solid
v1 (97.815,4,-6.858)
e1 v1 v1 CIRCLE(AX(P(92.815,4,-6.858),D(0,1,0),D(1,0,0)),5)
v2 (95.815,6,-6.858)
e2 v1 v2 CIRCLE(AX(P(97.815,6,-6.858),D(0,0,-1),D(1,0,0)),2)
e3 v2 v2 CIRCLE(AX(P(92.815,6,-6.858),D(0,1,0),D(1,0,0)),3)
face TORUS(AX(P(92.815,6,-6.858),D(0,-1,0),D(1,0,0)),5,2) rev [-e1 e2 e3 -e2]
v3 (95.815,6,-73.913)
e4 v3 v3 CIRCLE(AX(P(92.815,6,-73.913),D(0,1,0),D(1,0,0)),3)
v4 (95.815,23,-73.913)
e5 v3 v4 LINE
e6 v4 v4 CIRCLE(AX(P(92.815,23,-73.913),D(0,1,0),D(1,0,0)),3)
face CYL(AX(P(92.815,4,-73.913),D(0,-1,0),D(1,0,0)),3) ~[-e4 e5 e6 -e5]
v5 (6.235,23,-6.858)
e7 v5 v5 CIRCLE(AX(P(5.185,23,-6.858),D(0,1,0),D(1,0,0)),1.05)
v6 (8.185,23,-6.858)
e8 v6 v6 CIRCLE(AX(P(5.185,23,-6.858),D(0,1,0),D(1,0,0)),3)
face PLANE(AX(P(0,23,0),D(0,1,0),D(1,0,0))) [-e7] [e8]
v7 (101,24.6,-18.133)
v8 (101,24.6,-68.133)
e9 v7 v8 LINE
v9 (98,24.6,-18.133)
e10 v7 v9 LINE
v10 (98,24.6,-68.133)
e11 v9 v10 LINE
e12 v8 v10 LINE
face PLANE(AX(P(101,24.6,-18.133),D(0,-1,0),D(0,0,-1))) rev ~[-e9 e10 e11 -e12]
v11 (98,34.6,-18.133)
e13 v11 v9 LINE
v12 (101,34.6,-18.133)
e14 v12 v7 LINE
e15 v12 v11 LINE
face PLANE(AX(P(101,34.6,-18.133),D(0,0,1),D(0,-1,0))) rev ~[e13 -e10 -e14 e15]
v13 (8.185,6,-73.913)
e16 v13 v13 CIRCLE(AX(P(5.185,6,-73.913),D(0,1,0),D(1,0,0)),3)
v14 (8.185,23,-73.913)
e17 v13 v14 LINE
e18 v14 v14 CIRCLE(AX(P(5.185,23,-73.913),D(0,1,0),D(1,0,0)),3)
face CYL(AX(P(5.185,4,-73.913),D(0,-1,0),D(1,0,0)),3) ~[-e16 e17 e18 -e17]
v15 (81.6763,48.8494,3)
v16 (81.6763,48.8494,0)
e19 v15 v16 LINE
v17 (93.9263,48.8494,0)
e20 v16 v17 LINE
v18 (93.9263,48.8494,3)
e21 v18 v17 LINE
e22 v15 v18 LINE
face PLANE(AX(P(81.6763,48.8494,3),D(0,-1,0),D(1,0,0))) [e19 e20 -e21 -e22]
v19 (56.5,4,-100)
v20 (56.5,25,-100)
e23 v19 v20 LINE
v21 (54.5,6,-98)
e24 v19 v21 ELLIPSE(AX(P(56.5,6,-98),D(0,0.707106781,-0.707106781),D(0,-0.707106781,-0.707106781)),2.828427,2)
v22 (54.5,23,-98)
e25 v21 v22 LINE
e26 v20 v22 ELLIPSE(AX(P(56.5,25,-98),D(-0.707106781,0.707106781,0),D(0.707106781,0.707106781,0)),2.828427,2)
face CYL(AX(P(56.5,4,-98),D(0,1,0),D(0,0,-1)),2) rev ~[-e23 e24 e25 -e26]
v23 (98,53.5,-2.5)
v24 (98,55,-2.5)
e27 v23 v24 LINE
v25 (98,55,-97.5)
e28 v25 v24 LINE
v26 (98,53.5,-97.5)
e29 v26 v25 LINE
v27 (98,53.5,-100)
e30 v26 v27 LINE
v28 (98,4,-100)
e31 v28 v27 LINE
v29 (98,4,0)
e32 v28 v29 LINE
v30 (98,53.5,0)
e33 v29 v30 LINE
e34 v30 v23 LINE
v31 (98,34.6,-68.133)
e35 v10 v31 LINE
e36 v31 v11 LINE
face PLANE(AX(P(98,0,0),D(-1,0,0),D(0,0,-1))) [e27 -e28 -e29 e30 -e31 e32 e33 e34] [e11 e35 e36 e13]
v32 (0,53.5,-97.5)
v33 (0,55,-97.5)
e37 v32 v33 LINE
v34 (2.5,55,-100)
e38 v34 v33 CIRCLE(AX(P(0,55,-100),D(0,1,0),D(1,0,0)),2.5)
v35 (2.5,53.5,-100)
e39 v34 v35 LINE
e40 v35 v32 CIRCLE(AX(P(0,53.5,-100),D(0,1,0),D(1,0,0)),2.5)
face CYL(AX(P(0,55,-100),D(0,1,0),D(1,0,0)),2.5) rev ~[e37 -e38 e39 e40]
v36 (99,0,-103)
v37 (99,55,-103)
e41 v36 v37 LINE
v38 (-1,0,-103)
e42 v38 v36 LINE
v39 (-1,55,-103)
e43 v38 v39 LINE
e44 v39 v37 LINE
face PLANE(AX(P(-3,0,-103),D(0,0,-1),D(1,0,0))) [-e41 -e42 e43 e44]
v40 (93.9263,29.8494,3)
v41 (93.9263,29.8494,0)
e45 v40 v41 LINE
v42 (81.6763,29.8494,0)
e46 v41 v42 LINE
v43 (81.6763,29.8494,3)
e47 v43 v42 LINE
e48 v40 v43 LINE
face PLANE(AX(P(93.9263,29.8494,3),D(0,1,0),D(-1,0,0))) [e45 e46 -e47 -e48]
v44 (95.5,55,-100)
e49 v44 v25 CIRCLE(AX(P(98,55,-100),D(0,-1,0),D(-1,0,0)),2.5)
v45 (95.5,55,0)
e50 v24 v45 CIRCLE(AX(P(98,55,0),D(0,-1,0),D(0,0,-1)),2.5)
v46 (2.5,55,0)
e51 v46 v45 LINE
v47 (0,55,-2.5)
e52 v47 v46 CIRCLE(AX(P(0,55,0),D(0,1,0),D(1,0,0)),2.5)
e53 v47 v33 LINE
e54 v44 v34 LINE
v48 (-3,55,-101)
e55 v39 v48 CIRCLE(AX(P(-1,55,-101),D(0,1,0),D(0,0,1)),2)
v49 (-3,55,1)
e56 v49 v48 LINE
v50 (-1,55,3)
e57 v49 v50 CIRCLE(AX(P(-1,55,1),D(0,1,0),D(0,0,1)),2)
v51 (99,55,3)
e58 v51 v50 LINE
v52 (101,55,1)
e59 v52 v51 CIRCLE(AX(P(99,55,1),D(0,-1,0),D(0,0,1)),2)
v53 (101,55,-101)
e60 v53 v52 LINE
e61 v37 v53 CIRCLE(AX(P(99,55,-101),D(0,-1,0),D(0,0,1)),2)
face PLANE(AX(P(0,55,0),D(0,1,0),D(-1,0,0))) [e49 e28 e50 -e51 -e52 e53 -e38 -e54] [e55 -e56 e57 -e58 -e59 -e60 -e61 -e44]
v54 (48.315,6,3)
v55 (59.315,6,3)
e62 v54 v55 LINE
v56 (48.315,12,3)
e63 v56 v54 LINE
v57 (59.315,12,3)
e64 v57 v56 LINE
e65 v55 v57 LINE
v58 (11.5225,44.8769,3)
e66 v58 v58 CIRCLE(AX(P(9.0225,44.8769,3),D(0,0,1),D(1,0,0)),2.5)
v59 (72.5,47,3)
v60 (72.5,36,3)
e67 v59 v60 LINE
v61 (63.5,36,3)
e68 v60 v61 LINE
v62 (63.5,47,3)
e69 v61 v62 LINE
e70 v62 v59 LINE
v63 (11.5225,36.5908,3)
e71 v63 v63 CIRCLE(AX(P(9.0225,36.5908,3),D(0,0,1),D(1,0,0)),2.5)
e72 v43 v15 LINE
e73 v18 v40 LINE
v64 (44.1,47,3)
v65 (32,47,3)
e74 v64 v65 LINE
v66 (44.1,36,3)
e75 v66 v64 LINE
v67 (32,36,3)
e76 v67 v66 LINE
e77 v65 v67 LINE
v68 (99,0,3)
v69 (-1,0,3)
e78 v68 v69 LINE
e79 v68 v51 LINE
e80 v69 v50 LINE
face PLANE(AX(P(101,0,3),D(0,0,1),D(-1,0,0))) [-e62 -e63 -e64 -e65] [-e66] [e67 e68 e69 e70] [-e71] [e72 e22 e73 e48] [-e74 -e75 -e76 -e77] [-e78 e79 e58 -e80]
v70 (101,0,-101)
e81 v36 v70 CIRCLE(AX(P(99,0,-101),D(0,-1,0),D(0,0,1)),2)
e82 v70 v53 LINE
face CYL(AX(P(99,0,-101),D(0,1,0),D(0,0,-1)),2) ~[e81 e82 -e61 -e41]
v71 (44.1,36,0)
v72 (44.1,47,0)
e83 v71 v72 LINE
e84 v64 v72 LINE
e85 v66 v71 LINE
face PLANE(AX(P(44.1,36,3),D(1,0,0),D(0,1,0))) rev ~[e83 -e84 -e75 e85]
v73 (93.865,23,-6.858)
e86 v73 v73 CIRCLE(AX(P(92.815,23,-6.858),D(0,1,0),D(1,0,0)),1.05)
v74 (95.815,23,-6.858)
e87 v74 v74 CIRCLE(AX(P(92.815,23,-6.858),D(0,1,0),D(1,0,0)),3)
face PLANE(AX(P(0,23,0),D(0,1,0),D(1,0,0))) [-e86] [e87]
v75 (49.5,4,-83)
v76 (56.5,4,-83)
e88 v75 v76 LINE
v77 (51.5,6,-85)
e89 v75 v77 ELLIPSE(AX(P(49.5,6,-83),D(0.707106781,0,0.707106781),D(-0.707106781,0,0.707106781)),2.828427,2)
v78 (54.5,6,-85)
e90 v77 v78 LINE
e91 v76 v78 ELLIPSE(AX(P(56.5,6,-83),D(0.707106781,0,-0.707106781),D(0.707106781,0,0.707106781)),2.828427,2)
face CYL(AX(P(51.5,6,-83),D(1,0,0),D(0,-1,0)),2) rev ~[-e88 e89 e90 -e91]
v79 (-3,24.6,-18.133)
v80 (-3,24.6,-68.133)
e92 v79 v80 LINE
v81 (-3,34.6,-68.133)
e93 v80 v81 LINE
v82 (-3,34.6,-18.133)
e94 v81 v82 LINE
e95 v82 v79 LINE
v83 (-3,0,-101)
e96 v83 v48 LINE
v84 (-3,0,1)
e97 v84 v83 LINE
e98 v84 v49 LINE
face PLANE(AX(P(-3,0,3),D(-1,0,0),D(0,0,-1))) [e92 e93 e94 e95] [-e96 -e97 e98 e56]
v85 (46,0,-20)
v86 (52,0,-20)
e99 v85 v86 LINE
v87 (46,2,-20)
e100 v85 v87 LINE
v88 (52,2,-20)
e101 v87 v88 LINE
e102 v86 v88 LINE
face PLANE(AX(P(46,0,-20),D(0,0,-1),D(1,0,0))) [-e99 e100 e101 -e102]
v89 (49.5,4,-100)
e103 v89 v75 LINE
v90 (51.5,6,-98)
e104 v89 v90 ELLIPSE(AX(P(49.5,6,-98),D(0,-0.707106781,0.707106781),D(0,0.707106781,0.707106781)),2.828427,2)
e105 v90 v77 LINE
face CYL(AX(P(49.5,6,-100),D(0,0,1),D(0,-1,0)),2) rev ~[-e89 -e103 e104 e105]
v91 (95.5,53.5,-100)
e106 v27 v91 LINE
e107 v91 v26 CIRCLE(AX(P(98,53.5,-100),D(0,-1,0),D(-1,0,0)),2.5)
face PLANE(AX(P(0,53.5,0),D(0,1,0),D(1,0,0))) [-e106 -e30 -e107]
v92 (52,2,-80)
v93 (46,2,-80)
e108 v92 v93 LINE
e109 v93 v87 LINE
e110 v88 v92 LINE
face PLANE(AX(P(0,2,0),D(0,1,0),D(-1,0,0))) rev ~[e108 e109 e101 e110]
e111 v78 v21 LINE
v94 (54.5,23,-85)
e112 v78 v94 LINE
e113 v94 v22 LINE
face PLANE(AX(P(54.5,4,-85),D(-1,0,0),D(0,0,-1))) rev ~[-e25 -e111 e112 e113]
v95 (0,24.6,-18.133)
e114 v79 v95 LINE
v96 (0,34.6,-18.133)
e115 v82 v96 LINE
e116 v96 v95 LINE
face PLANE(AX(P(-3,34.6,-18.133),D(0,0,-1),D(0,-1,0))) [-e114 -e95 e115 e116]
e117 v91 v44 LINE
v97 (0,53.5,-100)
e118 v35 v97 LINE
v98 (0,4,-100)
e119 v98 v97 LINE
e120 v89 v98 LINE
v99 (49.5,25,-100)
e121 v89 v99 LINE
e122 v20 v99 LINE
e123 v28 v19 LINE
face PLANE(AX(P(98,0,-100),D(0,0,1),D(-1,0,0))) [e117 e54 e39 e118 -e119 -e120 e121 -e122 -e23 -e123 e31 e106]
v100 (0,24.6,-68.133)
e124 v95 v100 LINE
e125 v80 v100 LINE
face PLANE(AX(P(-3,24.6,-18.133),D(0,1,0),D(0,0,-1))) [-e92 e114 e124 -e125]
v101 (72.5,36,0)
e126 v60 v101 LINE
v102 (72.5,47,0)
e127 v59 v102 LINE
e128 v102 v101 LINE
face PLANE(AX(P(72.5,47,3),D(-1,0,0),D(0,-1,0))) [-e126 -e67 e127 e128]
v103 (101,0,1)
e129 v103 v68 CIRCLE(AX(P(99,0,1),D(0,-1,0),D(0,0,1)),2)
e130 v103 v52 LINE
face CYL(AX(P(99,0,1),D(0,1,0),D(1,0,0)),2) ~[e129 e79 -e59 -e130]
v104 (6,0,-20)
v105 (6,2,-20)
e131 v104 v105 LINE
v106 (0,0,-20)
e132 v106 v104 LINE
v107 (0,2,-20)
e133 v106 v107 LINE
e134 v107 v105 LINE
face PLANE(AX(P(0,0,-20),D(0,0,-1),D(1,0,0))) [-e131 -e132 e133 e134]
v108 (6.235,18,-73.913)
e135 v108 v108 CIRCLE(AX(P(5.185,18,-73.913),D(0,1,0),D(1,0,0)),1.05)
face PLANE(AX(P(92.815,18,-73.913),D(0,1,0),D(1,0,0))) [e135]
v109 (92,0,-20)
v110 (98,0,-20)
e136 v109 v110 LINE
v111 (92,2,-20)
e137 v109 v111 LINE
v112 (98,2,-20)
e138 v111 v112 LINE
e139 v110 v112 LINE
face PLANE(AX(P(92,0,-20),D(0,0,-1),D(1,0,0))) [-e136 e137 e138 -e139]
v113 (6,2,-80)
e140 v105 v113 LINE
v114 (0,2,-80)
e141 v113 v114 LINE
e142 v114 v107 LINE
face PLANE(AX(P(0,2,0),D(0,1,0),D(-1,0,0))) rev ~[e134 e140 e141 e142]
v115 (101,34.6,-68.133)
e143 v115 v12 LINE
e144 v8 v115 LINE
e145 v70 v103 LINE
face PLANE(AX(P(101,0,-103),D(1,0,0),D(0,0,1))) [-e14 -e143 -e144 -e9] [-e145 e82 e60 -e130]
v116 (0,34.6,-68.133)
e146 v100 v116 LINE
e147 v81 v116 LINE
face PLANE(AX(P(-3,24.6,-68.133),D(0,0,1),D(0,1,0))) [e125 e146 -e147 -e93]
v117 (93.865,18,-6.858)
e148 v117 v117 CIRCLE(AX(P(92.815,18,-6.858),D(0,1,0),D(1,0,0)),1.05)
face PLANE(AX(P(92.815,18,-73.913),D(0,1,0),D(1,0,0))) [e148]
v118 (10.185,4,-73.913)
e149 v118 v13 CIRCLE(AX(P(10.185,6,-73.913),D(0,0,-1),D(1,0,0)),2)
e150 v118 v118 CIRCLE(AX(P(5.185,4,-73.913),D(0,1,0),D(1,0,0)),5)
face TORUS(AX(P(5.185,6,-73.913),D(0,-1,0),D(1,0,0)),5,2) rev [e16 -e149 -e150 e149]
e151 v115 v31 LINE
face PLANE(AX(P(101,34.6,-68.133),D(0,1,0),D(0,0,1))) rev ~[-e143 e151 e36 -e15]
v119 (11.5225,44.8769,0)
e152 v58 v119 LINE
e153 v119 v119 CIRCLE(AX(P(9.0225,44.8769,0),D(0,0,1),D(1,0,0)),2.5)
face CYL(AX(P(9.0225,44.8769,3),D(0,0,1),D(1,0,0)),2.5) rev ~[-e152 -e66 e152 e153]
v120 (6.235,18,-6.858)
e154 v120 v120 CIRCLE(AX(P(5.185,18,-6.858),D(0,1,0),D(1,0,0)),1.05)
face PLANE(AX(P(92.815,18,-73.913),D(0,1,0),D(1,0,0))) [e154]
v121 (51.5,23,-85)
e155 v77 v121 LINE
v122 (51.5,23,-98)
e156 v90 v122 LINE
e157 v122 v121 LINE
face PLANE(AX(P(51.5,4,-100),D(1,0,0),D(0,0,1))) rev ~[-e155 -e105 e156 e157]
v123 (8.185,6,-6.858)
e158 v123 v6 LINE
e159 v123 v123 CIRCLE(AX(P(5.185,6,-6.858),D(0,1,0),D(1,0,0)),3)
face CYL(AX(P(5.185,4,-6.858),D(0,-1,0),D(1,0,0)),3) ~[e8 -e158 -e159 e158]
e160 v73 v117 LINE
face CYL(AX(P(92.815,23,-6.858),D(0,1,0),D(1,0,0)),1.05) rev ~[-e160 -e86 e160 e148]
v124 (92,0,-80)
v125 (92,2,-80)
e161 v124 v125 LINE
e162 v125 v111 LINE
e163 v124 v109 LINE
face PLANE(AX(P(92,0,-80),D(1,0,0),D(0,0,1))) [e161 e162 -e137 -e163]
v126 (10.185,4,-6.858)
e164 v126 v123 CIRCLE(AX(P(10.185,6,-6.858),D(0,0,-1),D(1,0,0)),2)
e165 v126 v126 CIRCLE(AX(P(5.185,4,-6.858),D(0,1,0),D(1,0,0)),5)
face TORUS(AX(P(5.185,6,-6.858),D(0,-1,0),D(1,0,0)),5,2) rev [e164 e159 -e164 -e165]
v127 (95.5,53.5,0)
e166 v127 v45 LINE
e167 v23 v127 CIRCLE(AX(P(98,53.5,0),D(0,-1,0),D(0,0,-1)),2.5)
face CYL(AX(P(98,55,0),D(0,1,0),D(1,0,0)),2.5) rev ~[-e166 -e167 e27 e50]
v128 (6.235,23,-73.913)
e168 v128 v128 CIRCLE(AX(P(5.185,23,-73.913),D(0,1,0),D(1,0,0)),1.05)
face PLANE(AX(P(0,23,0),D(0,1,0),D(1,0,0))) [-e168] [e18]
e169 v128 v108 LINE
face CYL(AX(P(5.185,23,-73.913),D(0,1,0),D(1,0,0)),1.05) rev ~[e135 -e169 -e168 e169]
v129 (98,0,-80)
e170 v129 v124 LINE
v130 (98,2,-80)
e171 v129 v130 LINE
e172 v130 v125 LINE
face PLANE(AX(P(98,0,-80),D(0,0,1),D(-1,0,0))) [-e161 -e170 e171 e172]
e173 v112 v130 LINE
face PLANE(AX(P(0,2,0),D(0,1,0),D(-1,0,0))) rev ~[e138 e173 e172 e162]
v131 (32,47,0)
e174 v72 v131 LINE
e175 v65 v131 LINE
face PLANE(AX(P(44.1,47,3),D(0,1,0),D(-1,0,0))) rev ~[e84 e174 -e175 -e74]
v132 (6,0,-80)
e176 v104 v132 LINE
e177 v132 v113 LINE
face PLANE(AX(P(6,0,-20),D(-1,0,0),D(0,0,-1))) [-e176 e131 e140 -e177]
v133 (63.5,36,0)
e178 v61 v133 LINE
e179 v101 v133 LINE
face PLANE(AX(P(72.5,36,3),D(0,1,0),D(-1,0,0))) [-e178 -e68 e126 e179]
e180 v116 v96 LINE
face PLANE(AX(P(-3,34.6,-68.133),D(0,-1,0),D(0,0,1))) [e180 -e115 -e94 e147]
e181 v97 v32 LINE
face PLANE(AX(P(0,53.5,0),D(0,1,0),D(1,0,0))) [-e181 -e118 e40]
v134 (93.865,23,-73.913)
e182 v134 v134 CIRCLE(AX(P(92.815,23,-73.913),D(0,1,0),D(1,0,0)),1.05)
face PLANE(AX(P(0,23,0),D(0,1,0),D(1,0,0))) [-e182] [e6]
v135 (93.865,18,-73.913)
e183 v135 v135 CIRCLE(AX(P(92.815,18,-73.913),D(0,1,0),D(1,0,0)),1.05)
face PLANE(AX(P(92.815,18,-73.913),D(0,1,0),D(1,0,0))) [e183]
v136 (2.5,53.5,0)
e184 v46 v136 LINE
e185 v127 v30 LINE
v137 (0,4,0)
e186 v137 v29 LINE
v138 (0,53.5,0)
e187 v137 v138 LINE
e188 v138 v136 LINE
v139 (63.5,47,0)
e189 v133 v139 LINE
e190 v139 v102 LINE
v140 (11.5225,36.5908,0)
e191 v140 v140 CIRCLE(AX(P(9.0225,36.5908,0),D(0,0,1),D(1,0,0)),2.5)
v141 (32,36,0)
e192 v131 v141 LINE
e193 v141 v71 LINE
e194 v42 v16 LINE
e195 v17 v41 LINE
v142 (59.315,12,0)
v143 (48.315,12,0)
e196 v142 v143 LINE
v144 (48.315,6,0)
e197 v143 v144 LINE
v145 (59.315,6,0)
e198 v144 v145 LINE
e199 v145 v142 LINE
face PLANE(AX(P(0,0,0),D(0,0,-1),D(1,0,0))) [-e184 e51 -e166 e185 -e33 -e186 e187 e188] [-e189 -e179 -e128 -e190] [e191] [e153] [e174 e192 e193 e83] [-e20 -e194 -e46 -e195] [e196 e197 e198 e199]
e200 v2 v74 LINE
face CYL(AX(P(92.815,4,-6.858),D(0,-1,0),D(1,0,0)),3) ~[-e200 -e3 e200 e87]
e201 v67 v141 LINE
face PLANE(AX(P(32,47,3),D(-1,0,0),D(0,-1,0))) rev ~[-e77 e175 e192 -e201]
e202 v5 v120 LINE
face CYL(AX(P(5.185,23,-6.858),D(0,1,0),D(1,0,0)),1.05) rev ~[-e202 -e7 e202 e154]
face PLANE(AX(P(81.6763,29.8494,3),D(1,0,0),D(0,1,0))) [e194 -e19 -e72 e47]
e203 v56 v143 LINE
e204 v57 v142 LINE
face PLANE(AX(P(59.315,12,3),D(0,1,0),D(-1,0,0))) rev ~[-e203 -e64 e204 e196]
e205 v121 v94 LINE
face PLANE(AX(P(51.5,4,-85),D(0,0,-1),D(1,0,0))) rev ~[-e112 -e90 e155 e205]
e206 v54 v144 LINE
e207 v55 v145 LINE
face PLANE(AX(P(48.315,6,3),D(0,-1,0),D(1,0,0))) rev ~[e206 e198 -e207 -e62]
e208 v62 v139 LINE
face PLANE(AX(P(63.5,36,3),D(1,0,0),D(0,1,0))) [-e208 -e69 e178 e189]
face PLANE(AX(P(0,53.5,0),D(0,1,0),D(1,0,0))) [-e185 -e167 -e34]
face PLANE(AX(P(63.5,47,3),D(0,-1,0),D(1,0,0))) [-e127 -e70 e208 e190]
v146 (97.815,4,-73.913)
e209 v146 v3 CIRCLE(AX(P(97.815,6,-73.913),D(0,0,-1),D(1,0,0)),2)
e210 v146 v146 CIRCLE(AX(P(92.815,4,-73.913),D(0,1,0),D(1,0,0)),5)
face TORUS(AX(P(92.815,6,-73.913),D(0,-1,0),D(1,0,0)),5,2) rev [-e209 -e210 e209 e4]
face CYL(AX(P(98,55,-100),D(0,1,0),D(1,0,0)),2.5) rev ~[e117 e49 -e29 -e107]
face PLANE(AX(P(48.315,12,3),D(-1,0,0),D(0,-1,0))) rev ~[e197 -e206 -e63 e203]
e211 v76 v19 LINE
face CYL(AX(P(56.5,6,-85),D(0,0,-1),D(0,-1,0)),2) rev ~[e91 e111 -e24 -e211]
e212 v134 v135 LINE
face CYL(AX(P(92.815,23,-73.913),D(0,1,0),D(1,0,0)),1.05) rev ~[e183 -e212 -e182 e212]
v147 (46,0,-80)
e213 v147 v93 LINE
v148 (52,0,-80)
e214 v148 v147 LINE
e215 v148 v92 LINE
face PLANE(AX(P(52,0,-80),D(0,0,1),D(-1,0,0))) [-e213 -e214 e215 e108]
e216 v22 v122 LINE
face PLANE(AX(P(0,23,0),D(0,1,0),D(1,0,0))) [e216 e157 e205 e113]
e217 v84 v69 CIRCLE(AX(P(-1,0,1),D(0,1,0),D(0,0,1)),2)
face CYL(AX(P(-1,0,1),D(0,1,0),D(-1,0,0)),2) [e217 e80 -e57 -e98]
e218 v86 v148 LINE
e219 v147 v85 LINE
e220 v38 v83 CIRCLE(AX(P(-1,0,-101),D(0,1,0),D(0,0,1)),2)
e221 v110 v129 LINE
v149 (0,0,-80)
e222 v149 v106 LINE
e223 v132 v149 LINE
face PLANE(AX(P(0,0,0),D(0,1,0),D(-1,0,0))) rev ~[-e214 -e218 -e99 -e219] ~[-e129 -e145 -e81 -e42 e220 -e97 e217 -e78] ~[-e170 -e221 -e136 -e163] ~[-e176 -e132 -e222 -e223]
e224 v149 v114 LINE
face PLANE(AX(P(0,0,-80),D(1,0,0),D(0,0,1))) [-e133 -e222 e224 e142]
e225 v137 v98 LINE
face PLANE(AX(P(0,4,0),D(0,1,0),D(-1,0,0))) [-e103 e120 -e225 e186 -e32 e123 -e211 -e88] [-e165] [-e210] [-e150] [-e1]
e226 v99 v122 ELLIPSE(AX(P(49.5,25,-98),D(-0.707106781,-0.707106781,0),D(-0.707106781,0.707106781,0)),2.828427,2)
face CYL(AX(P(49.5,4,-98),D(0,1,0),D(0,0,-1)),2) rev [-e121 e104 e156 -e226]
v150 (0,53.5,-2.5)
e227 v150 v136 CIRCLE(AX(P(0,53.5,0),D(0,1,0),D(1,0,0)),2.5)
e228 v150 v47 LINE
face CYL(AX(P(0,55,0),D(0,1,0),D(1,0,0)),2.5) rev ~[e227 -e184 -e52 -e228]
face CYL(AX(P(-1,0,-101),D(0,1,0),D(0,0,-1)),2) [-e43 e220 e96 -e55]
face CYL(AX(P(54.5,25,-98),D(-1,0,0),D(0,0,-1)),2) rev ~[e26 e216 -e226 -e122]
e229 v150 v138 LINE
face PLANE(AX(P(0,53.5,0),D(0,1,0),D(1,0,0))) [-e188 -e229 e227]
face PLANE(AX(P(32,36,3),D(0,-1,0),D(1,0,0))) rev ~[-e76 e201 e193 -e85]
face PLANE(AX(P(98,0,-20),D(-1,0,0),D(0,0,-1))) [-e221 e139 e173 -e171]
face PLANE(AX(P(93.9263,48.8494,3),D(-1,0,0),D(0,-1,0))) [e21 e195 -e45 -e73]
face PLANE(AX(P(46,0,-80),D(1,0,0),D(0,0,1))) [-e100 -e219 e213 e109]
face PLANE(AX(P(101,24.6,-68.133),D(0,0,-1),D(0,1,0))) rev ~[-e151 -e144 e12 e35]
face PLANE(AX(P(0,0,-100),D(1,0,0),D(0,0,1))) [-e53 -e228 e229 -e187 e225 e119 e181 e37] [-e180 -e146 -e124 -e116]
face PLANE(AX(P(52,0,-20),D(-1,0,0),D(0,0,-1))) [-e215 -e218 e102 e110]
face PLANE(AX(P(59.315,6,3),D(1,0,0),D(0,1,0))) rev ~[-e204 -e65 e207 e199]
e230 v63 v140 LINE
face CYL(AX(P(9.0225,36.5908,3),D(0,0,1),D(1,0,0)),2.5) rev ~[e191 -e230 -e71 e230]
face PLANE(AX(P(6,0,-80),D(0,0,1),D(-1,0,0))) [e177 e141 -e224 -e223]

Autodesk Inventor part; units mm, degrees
ref_plane "YZ Plane" through (0, 0, 0) normal (1, 0, 0) x (0, 1, 0)
ref_plane "XZ Plane" through (0, 0, 0) normal (0, 1, 0) x (-1, 0, 0)
ref_plane "XY Plane" through (0, 0, 0) normal (0, 0, 1) x (1, 0, 0)
sketch "Sketch1" plane through (0, 0, 0) normal (0, 1, 0) x (-1, 0, 0)
  line L0 (0, 0) -> (-98, 0)
  line L1 (-98, 0) -> (-98, -100)
  line L2 (-98, -100) -> (0, -100)
  line L3 (0, -100) -> (0, 0)
  line L4 (3, -103) -> (-101, -103)
  line L5 (-101, -103) -> (-101, 3)
  line L6 (-101, 3) -> (3, 3)
  line L7 (3, 3) -> (3, -103)
  line L8 (0, -20) -> (-6, -20)
  line L9 (-6, -20) -> (-6, -80)
  line L10 (-6, -80) -> (0, -80)
  line L11 (0, -80) -> (0, -20)
  line L12 (-46, -20) -> (-52, -20)
  line L13 (-52, -20) -> (-52, -80)
  line L14 (-52, -80) -> (-46, -80)
  line L15 (-46, -80) -> (-46, -20)
  line L16 (-92, -20) -> (-98, -20)
  line L17 (-98, -20) -> (-98, -80)
  line L18 (-98, -80) -> (-92, -80)
  line L19 (-92, -80) -> (-92, -20)
  point P0 (-49, -20)
  point P1 (-6, -50)
  point P2 (-98, -20)
  point P3 (-98, -80)
  point P4 (0, -80)
  point P5 (0, -20)
  dimension "d0" = 100
  dimension "d1" = 98
  dimension "d2" = 3
  dimension "d48" = 6
  dimension "d49" = 60
  dimension "d50" = 6
  dimension "d51" = 60
  dimension "d52" = 6
  dimension "d53" = 60
  dimension "d54" = 49
  dimension "d55" = 50
extrude "Extrusion1" add sketch "Sketch1" along normal blind 4 contours L3 L8 L9 L10 L2 L1 L18 L19 L16 L0 | L3 L10 L9 L8 | L16 L19 L18 L1 | L15 L14 L13 L12
extrude "Extrusion2" add sketch "Sketch1" along normal blind 55 contours L4 L5 L6 L7
fillet "Fillet1" radius 2 4 edges at (-3, 27.5, 3) (101, 27.5, 3) (101, 27.5, -103) (-3, 27.5, -103)
sketch "Sketch2" plane through (0, 4, 0) normal (0, 1, 0) x (1, 0, 0)
  line L0 (98, 0) -> (98, 100) projected
  line L1 (98, 100) -> (0, 100) projected
  line L2 (0, 100) -> (0, 0) projected
  line L3 (0, 0) -> (98, 0) projected
  circle A0 centre (5.185, 73.913) radius 3
  circle A1 centre (5.185, 6.858) radius 3
  circle A2 centre (92.815, 6.858) radius 3
  circle A3 centre (92.815, 73.913) radius 3
  line L4 (54.5, 100) -> (51.5, 100)
  line L5 (51.5, 100) -> (51.5, 85)
  line L6 (51.5, 85) -> (54.5, 85)
  line L7 (54.5, 85) -> (54.5, 100)
  line L8 (0, 100) -> (98, 100) projected
  dimension "d8" = 6
  dimension "d9" = 6
  dimension "d10" = 6
  dimension "d11" = 6
  dimension "d12" = 67.055
  dimension "d13" = 87.63
  dimension "d16" = 6.858
  dimension "d17" = 5.185
  dimension "d120" = 3
  dimension "d121" = 15
  dimension "d122" = 51.5
extrude "Extrusion3" add sketch "Sketch2" along normal blind 19 contours L7 L6 L5 L1 | A0 | A1 | A2 | A3
sketch "Sketch3" plane through (92.815, 23, -73.913) normal (0, 1, 0) x (1, 0, 0)
  circle A0 centre (0, -67.055) radius 3 projected
  circle A1 centre (0, -67.055) radius 1.05
  circle A2 centre (0, 0) radius 3 projected
  circle A3 centre (0, 0) radius 1.05
  circle A4 centre (-87.63, 0) radius 3 projected
  circle A5 centre (-87.63, 0) radius 1.05
  circle A6 centre (-87.63, -67.055) radius 3 projected
  circle A7 centre (-87.63, -67.055) radius 1.05
  point P0 (-92.815, -73.913)
  dimension "d21" = 2.1
  dimension "d22" = 2.1
  dimension "d23" = 2.1
  dimension "d24" = 2.1
extrude "Extrusion4" cut sketch "Sketch3" against normal blind 5 contours A1 | A3 | A5 | A7
fillet "Fillet2" radius 2 4 edges at (89.815, 4, -73.913) (89.815, 4, -6.858) (2.185, 4, -6.858) (2.185, 4, -73.913)
extrude "Extrusion5" cut sketch "Sketch1" along normal blind 2 contours L3 L10 L9 L8 | L16 L19 L18 L1 | L15 L14 L13 L12
sketch "Sketch4" plane through (-1, 0, 3) normal (0, 0, 1) x (1, 0, 0)
  line L0 (11.185, 4) -> (1.185, 4) projected
  line L1 (98.815, 4) -> (88.815, 4) projected
  line L2 (99, 4) -> (55.5, 4) projected
  line L3 (1, 4) -> (99, 4) projected
  line L4 (98.815, 4) -> (88.815, 4) projected
  line L5 (11.185, 4) -> (1.185, 4) projected
  line L6 (1, 4) -> (1, 55) projected
  line L7 (1, 4) -> (1, 55) projected
  line L8 (99, 4) -> (99, 55) projected
  line L9 (99, 4) -> (99, 55) projected
  line L10 (45.1, 47) -> (33, 47)
  line L11 (33, 47) -> (33, 36)
  line L12 (33, 36) -> (45.1, 36)
  line L13 (45.1, 36) -> (45.1, 47)
  line L14 (49.315, 6) -> (60.315, 6)
  line L15 (60.315, 6) -> (60.315, 12)
  line L16 (60.315, 12) -> (49.315, 12)
  line L17 (49.315, 12) -> (49.315, 6)
  line L18 (64.5, 47) -> (73.5, 47)
  line L19 (73.5, 47) -> (73.5, 36)
  line L20 (73.5, 36) -> (64.5, 36)
  line L21 (64.5, 36) -> (64.5, 47)
  line L22 (9.185, 23) -> (3.185, 23) projected
  line L23 (96.815, 23) -> (90.815, 23) projected
  circle A0 centre (10.0225, 36.5908) radius 2.5
  circle A1 centre (10.0225, 44.8769) radius 2.5
  line L24 (82.6763, 48.8494) -> (94.9263, 48.8494)
  line L25 (94.9263, 48.8494) -> (94.9263, 29.8494)
  line L26 (94.9263, 29.8494) -> (82.6763, 29.8494)
  line L27 (82.6763, 29.8494) -> (82.6763, 48.8494)
  line L28 (82.6763, 48.8494) -> (94.9263, 29.8494) construction
  line L29 (94.9263, 48.8494) -> (82.6763, 29.8494) construction
  line L30 (0, 0) -> (100, 0) projected
  line L31 (55.5, 4) -> (52.5, 4) projected
  line L32 (52.5, 4) -> (1, 4) projected
  point P0 (1, 0)
  point P1 (69, 36)
  point P2 (73.5, 41.5)
  point P3 (60.315, 9)
  point P4 (49.315, 9)
  point P5 (54.815, 6)
  point P6 (54.815, 12)
  point P7 (6.185, 23)
  point P8 (39.05, 36)
  point P9 (93.815, 23)
  point P10 (88.8013, 39.3494)
  dimension "d56" = 11
  dimension "d57" = 19.4
  dimension "d59" = 12.1
  dimension "d60" = 11
  dimension "d61" = 9
  dimension "d62" = 11
  dimension "d63" = 6
  dimension "d106" = 39
  dimension "d108" = 5
  dimension "d109" = 5
  dimension "d111" = 12.25
  dimension "d112" = 19
  dimension "d117" = 32
  dimension "d118" = 47
  dimension "d119" = 12
extrude "Extrusion6" cut sketch "Sketch4" against normal up to surface (3 mm away)
sketch "Sketch5" plane through (101, 0, 1) normal (1, 0, 0) x (0, 0, -1)
  line L0 (12.858, 4) -> (2.858, 4) projected
  line L1 (79.913, 4) -> (69.913, 4) projected
  line L2 (1, 4) -> (101, 4) projected
  line L3 (101, 4) -> (1, 4) projected
  line L4 (12.858, 4) -> (2.858, 4) projected
  line L5 (79.913, 4) -> (69.913, 4) projected
  line L6 (1, 36) -> (1, 47) projected
  line L7 (1, 47) -> (1, 36) projected
  line L8 (1, 47) -> (1, 36) projected
  line L9 (1, 36) -> (1, 47) projected
  line L10 (1, 4) -> (1, 55) projected
  line L11 (1, 4) -> (1, 55) projected
  line L12 (10.858, 23) -> (4.858, 23) projected
  line L13 (77.913, 23) -> (71.913, 23) projected
  line L14 (19.133, 24.6) -> (69.133, 24.6)
  line L15 (69.133, 24.6) -> (69.133, 34.6)
  line L16 (69.133, 34.6) -> (19.133, 34.6)
  line L17 (19.133, 34.6) -> (19.133, 24.6)
  line L18 (12.858, 4) -> (2.858, 4) projected
  line L19 (4.858, 6) -> (10.858, 6) projected
  line L20 (79.913, 4) -> (69.913, 4) projected
  line L21 (71.913, 6) -> (77.913, 6) projected
  line L22 (1, 12) -> (1, 6) projected
  line L23 (1, 6) -> (1, 12) projected
  line L24 (101, 4) -> (86, 4) projected
  line L25 (86, 4) -> (101, 4) projected
  point P0 (1, 0)
  point P1 (74.913, 23)
  dimension "d1" = 98
  dimension "d98" = 10
  dimension "d99" = 50
  dimension "d101" = 1.6
  dimension "d102" = 5.78
sketch "Sketch6" plane through (-3, 0, -101) normal (-1, 0, 0) x (0, 0, 1)
  line L0 (32.867, 34.6) -> (82.867, 34.6) projected
  line L1 (32.867, 24.6) -> (32.867, 34.6) projected
  line L2 (82.867, 24.6) -> (32.867, 24.6) projected
  line L3 (82.867, 34.6) -> (82.867, 24.6) projected
  point P0 (101, 0)
extrude "Extrusion7" cut sketch "Sketch5" against normal up to surface (3 mm away)
extrude "Extrusion8" cut sketch "Sketch6" against normal up to surface (3 mm away)
sketch "Sketch7" plane through (0, 55, 0) normal (0, 1, 0) x (1, 0, 0)
  circle A0 centre (0, 100) radius 2.5
  circle A1 centre (0, 0) radius 2.5
  line L0 (98, 100) -> (98, 0) projected
  circle A2 centre (98, 100) radius 2.5
  circle A3 centre (98, 0) radius 2.5
  dimension "d113" = 5
  dimension "d114" = 5
  dimension "d115" = 5
  dimension "d116" = 5
extrude "Extrusion9" cut sketch "Sketch7" against normal blind 1.5
fillet "Fillet3" radius 2 6 edges at (51.5, 4, -92.5) (53, 4, -85) (54.5, 4, -92.5) (54.5, 13.5, -100) (51.5, 13.5, -100) (53, 23, -100)
equation "\"d54\" = 0.5 * d1"
equation "\"d55\" = 0.5 * d0"
equation "\"d60\" = d56"
properties part number "Base Chassis"
